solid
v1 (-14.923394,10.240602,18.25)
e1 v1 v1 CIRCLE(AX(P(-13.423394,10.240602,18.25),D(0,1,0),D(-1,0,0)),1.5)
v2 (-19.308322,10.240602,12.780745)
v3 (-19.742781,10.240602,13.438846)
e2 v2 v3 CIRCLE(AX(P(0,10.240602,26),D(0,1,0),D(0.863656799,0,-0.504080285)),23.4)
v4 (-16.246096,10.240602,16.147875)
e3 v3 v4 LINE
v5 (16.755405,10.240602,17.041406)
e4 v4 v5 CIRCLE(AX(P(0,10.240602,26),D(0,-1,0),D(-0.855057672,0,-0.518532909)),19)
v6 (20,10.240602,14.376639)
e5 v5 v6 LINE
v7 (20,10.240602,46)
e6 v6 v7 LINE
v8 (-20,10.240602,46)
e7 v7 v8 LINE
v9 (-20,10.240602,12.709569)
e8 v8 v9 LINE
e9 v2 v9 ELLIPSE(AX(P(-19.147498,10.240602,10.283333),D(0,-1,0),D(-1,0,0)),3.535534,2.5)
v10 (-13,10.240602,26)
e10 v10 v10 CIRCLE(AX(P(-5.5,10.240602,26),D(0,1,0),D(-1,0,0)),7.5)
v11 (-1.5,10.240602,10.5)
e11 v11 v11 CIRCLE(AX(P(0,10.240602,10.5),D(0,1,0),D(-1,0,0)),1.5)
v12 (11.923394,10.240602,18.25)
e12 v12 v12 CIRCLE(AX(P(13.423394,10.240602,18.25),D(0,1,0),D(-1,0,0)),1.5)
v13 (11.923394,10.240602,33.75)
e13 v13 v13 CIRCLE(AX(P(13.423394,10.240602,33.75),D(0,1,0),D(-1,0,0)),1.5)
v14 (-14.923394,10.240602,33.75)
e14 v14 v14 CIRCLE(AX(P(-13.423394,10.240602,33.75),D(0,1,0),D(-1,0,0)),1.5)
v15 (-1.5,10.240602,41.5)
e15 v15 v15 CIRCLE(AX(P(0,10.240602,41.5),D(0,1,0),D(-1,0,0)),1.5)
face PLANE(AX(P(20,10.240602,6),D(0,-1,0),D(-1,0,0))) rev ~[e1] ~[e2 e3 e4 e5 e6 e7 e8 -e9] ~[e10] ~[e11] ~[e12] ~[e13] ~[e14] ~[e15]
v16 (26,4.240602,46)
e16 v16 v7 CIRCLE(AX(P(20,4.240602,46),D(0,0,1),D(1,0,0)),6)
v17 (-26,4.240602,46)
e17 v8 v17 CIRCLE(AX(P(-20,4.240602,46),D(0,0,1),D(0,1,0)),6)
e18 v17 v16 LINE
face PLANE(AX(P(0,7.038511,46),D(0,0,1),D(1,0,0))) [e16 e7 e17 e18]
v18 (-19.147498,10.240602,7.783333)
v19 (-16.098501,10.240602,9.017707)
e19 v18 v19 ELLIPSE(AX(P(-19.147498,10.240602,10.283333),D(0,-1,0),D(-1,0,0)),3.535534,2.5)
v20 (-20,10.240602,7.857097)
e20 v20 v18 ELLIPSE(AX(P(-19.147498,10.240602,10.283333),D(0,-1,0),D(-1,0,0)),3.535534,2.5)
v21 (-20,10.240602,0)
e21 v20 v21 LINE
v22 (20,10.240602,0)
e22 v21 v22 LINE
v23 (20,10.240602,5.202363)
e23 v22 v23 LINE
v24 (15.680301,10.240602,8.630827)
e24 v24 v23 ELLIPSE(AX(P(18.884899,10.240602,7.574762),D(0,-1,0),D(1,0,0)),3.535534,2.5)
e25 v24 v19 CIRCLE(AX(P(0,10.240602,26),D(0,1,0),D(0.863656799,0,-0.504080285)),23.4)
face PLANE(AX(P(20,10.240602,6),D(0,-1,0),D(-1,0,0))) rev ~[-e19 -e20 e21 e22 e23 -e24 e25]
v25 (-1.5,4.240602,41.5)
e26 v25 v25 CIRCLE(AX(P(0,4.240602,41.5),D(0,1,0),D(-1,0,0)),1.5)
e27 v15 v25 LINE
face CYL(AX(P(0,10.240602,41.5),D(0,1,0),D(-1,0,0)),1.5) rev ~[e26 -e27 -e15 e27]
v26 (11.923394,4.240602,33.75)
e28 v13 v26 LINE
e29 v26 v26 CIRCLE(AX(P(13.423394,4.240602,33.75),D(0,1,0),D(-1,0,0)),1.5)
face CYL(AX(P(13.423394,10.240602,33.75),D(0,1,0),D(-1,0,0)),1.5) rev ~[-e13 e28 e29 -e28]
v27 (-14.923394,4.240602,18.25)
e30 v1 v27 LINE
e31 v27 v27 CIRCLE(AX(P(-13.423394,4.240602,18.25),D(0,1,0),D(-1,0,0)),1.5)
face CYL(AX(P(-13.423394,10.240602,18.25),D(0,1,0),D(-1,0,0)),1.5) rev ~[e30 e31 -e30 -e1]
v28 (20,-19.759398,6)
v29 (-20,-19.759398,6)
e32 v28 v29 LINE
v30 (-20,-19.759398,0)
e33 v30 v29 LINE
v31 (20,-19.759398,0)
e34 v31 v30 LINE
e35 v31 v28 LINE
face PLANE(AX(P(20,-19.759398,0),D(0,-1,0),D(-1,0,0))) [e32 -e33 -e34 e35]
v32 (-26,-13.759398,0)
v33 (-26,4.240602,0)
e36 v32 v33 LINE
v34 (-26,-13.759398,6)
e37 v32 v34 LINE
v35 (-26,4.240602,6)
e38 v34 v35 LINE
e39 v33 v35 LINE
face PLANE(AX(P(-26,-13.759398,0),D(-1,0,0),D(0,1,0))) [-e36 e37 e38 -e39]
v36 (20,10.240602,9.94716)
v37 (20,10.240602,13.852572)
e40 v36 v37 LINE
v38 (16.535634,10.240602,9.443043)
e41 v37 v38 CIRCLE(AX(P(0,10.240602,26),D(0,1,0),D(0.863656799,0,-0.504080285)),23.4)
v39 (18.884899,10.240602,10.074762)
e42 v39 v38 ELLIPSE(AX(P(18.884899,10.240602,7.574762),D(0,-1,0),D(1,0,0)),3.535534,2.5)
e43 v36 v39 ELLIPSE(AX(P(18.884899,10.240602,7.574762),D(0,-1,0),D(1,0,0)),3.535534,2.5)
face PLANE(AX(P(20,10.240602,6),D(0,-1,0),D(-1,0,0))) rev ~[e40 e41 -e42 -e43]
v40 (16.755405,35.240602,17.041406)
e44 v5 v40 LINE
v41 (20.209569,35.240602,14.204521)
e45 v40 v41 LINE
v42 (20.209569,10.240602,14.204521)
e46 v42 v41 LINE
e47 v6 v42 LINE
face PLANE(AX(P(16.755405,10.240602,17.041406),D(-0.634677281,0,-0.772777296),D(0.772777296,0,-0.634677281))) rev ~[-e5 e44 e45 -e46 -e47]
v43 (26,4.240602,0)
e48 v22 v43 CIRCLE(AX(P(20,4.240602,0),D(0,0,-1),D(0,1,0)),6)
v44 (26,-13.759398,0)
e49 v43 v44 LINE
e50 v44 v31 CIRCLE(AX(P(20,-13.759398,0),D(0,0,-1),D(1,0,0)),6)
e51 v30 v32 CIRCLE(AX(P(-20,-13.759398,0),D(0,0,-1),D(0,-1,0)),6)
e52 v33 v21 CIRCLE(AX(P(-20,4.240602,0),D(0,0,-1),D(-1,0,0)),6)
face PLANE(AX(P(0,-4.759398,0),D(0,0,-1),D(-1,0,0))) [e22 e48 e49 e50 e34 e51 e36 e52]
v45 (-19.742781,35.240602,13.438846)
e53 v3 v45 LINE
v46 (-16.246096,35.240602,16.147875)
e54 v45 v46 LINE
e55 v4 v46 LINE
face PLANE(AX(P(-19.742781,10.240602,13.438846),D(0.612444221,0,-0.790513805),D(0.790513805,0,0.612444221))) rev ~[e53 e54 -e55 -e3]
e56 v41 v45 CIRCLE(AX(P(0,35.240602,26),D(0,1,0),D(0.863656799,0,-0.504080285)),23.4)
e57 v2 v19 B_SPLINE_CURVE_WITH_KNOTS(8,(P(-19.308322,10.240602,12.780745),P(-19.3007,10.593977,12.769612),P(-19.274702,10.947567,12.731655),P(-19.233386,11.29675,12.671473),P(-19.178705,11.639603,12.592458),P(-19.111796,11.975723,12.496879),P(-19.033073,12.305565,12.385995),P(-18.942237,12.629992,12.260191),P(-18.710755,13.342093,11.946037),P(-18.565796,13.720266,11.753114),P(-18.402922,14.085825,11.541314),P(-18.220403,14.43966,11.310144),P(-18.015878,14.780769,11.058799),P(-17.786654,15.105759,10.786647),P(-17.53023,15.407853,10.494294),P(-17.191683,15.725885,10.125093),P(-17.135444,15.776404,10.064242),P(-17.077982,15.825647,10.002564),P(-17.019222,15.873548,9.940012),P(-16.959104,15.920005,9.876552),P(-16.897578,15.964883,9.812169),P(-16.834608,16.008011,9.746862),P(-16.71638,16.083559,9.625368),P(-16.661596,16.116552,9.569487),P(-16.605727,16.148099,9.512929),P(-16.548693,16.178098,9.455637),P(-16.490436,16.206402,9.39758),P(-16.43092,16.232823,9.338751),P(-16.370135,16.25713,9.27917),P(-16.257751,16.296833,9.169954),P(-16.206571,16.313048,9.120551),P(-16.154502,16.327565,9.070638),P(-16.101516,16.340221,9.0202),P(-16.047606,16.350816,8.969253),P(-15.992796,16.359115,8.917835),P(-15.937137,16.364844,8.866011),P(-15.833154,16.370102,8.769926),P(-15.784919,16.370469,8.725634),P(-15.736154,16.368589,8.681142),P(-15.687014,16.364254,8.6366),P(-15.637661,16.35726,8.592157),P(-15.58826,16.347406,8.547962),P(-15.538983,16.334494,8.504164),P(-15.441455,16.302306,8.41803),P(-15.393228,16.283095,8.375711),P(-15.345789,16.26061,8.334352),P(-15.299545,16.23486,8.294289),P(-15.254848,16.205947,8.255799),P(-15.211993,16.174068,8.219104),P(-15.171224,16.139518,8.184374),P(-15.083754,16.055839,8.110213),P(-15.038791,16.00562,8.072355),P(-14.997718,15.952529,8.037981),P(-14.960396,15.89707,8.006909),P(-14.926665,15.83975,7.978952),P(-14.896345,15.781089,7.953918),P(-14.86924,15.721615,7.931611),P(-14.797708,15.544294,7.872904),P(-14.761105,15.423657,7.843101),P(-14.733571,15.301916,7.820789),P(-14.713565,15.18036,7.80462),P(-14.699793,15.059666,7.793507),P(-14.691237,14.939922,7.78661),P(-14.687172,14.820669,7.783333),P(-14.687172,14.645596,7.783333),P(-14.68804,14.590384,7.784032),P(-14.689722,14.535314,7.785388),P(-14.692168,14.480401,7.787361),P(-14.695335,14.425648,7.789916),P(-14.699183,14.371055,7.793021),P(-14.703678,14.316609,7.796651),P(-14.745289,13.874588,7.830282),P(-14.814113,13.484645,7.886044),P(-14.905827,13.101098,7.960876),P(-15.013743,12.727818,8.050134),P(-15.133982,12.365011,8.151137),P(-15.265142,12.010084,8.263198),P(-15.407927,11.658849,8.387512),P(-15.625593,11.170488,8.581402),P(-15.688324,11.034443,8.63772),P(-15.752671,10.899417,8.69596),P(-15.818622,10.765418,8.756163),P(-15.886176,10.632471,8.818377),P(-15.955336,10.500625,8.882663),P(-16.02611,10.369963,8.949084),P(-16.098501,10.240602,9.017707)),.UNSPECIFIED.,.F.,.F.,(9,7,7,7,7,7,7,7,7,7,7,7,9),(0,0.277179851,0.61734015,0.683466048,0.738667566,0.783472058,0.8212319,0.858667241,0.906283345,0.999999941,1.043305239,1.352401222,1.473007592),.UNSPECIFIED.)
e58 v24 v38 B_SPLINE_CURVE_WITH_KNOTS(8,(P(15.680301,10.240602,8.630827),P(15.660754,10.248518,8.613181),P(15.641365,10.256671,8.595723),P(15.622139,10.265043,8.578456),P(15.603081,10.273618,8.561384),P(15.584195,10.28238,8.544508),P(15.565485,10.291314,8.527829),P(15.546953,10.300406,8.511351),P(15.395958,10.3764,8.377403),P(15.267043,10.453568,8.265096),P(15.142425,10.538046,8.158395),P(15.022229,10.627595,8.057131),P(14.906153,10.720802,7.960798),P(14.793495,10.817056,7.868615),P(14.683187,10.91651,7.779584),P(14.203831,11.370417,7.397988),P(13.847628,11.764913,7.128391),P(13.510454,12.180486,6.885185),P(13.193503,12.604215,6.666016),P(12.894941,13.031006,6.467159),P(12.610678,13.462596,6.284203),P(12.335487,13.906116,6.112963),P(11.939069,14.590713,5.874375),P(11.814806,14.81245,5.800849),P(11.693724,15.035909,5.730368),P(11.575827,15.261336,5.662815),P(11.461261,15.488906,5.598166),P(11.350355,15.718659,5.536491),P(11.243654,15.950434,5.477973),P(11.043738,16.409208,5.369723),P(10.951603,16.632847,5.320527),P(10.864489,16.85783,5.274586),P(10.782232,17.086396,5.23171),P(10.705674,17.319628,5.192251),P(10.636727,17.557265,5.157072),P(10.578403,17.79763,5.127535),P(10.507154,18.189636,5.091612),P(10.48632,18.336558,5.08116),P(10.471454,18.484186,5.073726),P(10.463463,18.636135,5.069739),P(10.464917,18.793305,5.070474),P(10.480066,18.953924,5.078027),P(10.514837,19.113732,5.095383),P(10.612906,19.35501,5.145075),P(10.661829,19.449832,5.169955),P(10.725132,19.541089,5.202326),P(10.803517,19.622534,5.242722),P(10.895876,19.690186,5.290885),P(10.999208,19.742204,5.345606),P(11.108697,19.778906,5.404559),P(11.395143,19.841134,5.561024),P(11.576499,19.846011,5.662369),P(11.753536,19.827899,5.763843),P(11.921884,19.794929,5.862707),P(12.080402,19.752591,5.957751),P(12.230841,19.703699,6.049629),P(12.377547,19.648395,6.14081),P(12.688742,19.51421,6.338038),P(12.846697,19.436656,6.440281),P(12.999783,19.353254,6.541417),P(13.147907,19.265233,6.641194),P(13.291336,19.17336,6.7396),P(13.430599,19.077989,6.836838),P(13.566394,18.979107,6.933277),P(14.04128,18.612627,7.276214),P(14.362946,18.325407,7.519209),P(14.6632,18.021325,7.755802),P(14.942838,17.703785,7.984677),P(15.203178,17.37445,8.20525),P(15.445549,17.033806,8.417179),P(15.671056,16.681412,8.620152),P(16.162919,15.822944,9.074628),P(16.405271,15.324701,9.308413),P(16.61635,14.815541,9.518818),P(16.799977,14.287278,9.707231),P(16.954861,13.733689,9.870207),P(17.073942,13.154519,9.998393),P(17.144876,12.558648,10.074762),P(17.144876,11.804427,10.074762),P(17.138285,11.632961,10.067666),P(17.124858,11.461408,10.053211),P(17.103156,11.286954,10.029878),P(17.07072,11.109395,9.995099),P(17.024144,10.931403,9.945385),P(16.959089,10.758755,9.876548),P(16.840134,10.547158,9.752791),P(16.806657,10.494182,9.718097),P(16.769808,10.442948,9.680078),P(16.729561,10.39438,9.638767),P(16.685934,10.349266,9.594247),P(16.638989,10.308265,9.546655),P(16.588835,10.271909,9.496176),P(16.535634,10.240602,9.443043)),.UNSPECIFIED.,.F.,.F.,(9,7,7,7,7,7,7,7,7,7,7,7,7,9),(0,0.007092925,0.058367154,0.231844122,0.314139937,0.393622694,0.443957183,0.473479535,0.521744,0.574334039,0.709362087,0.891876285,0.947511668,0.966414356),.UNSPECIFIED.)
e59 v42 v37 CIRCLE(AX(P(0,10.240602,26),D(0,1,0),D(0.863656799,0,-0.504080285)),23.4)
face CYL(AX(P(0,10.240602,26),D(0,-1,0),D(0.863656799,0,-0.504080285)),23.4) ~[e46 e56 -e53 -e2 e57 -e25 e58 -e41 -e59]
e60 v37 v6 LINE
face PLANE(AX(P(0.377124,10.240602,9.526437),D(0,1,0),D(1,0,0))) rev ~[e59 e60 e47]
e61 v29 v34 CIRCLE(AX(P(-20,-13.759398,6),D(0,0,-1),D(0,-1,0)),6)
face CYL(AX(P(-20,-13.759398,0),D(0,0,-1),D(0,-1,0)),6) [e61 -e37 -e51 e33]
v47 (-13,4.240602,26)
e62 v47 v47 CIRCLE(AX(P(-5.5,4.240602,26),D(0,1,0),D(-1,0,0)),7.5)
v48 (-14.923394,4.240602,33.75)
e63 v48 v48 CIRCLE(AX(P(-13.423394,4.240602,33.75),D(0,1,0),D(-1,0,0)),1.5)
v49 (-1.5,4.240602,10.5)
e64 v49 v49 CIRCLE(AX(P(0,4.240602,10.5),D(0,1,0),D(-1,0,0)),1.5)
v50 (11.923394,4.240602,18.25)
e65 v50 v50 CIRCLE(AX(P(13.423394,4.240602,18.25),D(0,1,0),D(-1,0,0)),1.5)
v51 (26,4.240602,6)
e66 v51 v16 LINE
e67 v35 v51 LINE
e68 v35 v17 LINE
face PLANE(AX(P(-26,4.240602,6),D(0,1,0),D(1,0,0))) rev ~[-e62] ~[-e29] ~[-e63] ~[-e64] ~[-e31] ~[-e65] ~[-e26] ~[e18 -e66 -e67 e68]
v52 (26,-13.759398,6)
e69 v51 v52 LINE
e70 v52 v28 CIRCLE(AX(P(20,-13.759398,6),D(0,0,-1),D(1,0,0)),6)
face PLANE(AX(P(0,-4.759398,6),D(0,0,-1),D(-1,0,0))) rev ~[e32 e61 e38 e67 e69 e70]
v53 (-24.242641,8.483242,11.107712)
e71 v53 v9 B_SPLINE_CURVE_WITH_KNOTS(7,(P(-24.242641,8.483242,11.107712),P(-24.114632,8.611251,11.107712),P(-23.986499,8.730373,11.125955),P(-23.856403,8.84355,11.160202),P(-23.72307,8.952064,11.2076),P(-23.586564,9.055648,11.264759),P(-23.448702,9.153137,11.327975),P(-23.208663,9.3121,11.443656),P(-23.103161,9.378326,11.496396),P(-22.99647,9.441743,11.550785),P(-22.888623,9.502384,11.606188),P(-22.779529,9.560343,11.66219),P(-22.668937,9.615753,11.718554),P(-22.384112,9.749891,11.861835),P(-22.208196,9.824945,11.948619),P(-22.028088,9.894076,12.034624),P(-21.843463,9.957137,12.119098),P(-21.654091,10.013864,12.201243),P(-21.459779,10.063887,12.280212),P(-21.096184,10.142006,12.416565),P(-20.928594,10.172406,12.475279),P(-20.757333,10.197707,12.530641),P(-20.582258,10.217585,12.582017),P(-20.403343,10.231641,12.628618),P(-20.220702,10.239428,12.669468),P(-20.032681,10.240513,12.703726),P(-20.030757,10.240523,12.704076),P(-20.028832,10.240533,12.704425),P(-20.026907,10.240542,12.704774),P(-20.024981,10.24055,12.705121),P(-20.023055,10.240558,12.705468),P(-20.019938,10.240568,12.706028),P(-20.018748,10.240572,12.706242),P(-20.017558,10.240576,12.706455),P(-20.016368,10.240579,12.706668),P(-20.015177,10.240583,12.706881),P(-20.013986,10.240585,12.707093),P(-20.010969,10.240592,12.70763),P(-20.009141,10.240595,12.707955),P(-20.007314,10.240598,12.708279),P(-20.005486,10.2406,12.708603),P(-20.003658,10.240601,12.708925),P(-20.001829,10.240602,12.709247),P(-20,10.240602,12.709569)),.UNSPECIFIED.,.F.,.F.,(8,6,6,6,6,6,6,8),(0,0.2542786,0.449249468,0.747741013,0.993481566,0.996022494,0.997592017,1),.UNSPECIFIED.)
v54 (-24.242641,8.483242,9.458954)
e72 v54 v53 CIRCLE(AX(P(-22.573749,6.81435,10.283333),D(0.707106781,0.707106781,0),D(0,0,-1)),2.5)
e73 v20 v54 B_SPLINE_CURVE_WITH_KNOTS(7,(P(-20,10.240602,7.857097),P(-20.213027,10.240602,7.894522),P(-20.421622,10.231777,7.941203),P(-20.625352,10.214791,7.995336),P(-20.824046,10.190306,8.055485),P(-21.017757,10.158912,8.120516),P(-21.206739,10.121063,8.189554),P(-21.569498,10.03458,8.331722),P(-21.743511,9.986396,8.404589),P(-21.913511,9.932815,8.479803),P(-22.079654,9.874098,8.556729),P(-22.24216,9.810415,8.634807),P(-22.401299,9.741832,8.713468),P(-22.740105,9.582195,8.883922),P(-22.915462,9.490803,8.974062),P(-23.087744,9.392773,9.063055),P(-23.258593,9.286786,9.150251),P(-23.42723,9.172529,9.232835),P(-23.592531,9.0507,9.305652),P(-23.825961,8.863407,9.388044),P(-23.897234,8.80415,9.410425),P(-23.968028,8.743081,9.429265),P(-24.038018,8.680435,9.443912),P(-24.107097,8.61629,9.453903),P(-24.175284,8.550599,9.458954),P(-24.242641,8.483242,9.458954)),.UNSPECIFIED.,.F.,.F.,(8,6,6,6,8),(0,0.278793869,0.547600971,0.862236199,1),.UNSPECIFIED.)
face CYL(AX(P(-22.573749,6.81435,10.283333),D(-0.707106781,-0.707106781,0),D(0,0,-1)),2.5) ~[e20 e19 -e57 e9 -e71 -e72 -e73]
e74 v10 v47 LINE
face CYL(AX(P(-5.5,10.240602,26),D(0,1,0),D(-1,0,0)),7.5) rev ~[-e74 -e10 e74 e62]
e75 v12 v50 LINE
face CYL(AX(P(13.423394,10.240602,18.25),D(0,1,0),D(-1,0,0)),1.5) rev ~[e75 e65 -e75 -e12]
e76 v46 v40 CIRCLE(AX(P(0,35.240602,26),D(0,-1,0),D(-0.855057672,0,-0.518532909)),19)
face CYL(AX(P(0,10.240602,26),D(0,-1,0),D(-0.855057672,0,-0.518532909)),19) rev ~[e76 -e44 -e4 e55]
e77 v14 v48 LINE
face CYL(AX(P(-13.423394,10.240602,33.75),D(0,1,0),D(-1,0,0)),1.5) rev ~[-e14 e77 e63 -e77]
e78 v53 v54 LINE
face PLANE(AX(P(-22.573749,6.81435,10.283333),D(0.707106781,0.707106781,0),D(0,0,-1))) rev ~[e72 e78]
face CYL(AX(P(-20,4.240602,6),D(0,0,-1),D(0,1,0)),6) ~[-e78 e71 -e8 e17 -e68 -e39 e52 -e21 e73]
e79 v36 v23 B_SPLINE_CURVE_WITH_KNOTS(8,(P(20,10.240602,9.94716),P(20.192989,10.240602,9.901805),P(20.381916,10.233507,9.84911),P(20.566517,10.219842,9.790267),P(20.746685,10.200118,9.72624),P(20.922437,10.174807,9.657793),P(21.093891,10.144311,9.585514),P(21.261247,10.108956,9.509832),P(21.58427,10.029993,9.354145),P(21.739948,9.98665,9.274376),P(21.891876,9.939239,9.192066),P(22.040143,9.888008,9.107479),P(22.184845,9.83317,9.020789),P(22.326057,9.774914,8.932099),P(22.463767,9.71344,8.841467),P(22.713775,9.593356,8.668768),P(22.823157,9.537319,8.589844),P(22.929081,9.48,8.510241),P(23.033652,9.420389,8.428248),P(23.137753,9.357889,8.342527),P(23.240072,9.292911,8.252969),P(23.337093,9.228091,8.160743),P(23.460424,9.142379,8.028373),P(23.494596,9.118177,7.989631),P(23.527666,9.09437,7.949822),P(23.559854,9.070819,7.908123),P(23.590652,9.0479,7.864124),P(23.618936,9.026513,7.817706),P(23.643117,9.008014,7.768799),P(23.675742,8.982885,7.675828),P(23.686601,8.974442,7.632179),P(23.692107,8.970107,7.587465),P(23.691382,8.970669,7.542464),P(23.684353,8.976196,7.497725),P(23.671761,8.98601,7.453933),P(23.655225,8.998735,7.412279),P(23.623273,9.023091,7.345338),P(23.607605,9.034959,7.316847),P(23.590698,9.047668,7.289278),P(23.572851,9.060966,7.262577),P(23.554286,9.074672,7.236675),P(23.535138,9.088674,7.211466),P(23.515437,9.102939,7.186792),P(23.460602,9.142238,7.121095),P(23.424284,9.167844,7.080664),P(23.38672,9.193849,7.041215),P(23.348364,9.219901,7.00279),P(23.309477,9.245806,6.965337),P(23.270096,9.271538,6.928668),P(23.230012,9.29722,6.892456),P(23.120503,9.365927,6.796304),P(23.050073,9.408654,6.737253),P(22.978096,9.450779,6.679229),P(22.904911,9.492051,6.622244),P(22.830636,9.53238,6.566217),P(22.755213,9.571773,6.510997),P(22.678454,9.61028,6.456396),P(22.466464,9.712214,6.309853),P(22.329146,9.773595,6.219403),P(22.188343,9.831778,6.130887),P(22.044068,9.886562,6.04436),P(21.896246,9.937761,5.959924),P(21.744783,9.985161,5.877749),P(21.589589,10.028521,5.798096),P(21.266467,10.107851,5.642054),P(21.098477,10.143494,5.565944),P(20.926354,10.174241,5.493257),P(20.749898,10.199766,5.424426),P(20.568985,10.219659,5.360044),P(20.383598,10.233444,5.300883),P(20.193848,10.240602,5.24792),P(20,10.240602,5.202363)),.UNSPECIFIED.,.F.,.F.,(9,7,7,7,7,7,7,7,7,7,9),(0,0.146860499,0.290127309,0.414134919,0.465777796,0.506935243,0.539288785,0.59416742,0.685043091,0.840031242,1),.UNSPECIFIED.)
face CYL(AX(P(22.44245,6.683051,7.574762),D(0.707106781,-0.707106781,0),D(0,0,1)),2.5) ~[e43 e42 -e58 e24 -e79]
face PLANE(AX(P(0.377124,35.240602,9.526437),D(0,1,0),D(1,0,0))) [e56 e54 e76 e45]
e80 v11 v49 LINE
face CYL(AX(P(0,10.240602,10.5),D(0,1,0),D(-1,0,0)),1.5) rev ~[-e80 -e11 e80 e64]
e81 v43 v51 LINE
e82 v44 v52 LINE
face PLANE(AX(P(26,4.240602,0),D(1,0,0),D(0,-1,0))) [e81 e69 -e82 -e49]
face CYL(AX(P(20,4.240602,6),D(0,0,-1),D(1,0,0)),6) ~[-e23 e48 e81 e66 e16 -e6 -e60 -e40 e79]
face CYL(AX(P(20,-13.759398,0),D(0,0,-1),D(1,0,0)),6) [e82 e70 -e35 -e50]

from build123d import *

# Parameters (mm, degrees)
BOSS_EXTRUDE1_DEPTH      = 6
BOSS_EXTRUDE2_DEPTH      = 40
CUT_EXTRUDE1_REACH       = 62.762
SKETCH9_R                = 1.5
CUT_EXTRUDE2_REACH       = 62.762
SKETCH10_R               = 7.5
BOSS_EXTRUDE4_DEPTH      = 25
BOSS_EXTRUDE5_REACH      = 73.576
BOSS_EXTRUDE5_END_RADIUS = 23.4
SKETCH12_R               = 2.5
BOSS_EXTRUDE6_REACH      = 73.576
SKETCH14_R               = 2.5


with BuildPart() as part:
    # Sketch3 → Boss-Extrude1 (new body)
    with BuildSketch(Plane.XY):
        with BuildLine():
            Line((-20, 10.240601504), (20, 10.240601504))
            ThreePointArc((20, 10.240601504), (24.242640687, 8.483242191), (26, 4.240601504))
            Line((26, 4.240601504), (26, -13.759398496))
            ThreePointArc((26, -13.759398496), (24.242640687, -18.002039183), (20, -19.759398496))
            Line((20, -19.759398496), (-20, -19.759398496))
            ThreePointArc((-20, -19.759398496), (-24.242640687, -18.002039183), (-26, -13.759398496))
            Line((-26, -13.759398496), (-26, 4.240601504))
            ThreePointArc((-26, 4.240601504), (-24.242640687, 8.483242191), (-20, 10.240601504))
        make_face()
    extrude(amount=BOSS_EXTRUDE1_DEPTH)

    # Sketch4 → Boss-Extrude2 (add)
    with BuildSketch(Plane.XY.offset(6)):
        with BuildLine():
            Line((-26, 4.240601504), (26, 4.240601504))
            ThreePointArc((26, 4.240601504), (24.242640687, 8.483242191), (20, 10.240601504))
            Line((20, 10.240601504), (-20, 10.240601504))
            ThreePointArc((-20, 10.240601504), (-24.242640687, 8.483242191), (-26, 4.240601504))
        make_face()
    extrude(amount=BOSS_EXTRUDE2_DEPTH)

    # Sketch9 → Cut-Extrude1 (cut, up to next)
    with BuildSketch(Plane(origin=(0, 10.240601504, 0), x_dir=(1, 0, 0), z_dir=(0, 1, 0)), mode=Mode.PRIVATE) as cut_extrude1_sk1:
        with Locations(Location((0, -41.5, 0), (0, 0, 180))):
            Circle(SKETCH9_R)
    cut_extrude1_tool1 = extrude(cut_extrude1_sk1.sketch, amount=-CUT_EXTRUDE1_REACH, mode=Mode.PRIVATE) & part.part
    # Sketch9 → Cut-Extrude1 (cut, up to next)
    with BuildSketch(Plane(origin=(0, 10.240601504, 0), x_dir=(1, 0, 0), z_dir=(0, 1, 0)), mode=Mode.PRIVATE) as cut_extrude1_sk2:
        with Locations(Location((13.423393759, -33.75, 0), (0, 0, 180))):
            Circle(SKETCH9_R)
    cut_extrude1_tool2 = extrude(cut_extrude1_sk2.sketch, amount=-CUT_EXTRUDE1_REACH, mode=Mode.PRIVATE) & part.part
    # Sketch9 → Cut-Extrude1 (cut, up to next)
    with BuildSketch(Plane(origin=(0, 10.240601504, 0), x_dir=(1, 0, 0), z_dir=(0, 1, 0)), mode=Mode.PRIVATE) as cut_extrude1_sk3:
        with Locations(Location((-13.423393759, -33.75, 0), (0, 0, 180))):
            Circle(SKETCH9_R)
    cut_extrude1_tool3 = extrude(cut_extrude1_sk3.sketch, amount=-CUT_EXTRUDE1_REACH, mode=Mode.PRIVATE) & part.part
    # Sketch9 → Cut-Extrude1 (cut, up to next)
    with BuildSketch(Plane(origin=(0, 10.240601504, 0), x_dir=(1, 0, 0), z_dir=(0, 1, 0)), mode=Mode.PRIVATE) as cut_extrude1_sk4:
        with Locations(Location((-13.423393759, -18.25, 0), (0, 0, 180))):
            Circle(SKETCH9_R)
    cut_extrude1_tool4 = extrude(cut_extrude1_sk4.sketch, amount=-CUT_EXTRUDE1_REACH, mode=Mode.PRIVATE) & part.part
    # Sketch9 → Cut-Extrude1 (cut, up to next)
    with BuildSketch(Plane(origin=(0, 10.240601504, 0), x_dir=(1, 0, 0), z_dir=(0, 1, 0)), mode=Mode.PRIVATE) as cut_extrude1_sk5:
        with Locations(Location((0, -10.5, 0), (0, 0, 180))):
            Circle(SKETCH9_R)
    cut_extrude1_tool5 = extrude(cut_extrude1_sk5.sketch, amount=-CUT_EXTRUDE1_REACH, mode=Mode.PRIVATE) & part.part
    # Sketch9 → Cut-Extrude1 (cut, up to next)
    with BuildSketch(Plane(origin=(0, 10.240601504, 0), x_dir=(1, 0, 0), z_dir=(0, 1, 0)), mode=Mode.PRIVATE) as cut_extrude1_sk6:
        with Locations(Location((13.423393759, -18.25, 0), (0, 0, 180))):
            Circle(SKETCH9_R)
    cut_extrude1_tool6 = extrude(cut_extrude1_sk6.sketch, amount=-CUT_EXTRUDE1_REACH, mode=Mode.PRIVATE) & part.part
    add(cut_extrude1_tool1.solids().sort_by_distance((0, 10.240602, 41.5))[0], mode=Mode.SUBTRACT)
    add(cut_extrude1_tool2.solids().sort_by_distance((13.423394, 10.240602, 33.75))[0], mode=Mode.SUBTRACT)
    add(cut_extrude1_tool3.solids().sort_by_distance((-13.423394, 10.240602, 33.75))[0], mode=Mode.SUBTRACT)
    add(cut_extrude1_tool4.solids().sort_by_distance((-13.423394, 10.240602, 18.25))[0], mode=Mode.SUBTRACT)
    add(cut_extrude1_tool5.solids().sort_by_distance((0, 10.240602, 10.5))[0], mode=Mode.SUBTRACT)
    add(cut_extrude1_tool6.solids().sort_by_distance((13.423394, 10.240602, 18.25))[0], mode=Mode.SUBTRACT)

    # Sketch10 → Cut-Extrude2 (cut, up to next)
    with BuildSketch(Plane(origin=(0, 10.240601504, 0), x_dir=(1, 0, 0), z_dir=(0, 1, 0)), mode=Mode.PRIVATE) as cut_extrude2_sk1:
        with Locations(Location((-5.5, -26, 0), (0, 0, 180))):
            Circle(SKETCH10_R)
    cut_extrude2_tool1 = extrude(cut_extrude2_sk1.sketch, amount=-CUT_EXTRUDE2_REACH, mode=Mode.PRIVATE) & part.part
    add(cut_extrude2_tool1.solids().sort_by_distance((-5.5, 10.240602, 26))[0], mode=Mode.SUBTRACT)

    # Sketch11 → Boss-Extrude4 (add)
    with BuildSketch(Plane(origin=(0, 10.240601504, 0), x_dir=(1, 0, 0), z_dir=(0, 1, 0))):
        with BuildLine():
            Line((16.755404651, -17.041405524), (20.209569094, -14.204521331))
            ThreePointArc((20.209569094, -14.204521331), (0.448372053, -2.604296067), (-19.742781111, -13.438845833))
            Line((-19.742781111, -13.438845833), (-16.246095761, -16.147874721))
            ThreePointArc((-16.246095761, -16.147874721), (0.514245282, -7.006960438), (16.755404651, -17.041405524))
        make_face()
    extrude(amount=BOSS_EXTRUDE4_DEPTH)

    # Boss-Extrude5: up to this cylinder (the profile starts outside it)
    boss_extrude5_end = Plane(origin=(0, 6.683051, 26), z_dir=(0, -1, 0)) * Cylinder(BOSS_EXTRUDE5_END_RADIUS, 194.952, mode=Mode.PRIVATE)
    # Sketch12 → Boss-Extrude5 (add, up to the surface)
    with BuildSketch(Plane(origin=(7.879699248, -7.879699248, 0), x_dir=(0, 0, 1), z_dir=(-0.7071067811865489, 0.7071067811865462, 0)), mode=Mode.PRIVATE) as boss_extrude5_sk1:
        with Locations((7.574761701, 20.594839086)):
            Circle(SKETCH12_R)
    boss_extrude5_tool1 = extrude(boss_extrude5_sk1.sketch, amount=BOSS_EXTRUDE5_REACH, mode=Mode.PRIVATE) - boss_extrude5_end
    add(boss_extrude5_tool1.solids().sort_by_distance((22.44245, 6.683051, 7.574762))[0])

    # Sketch14 → Boss-Extrude6 (add, up to next)
    with BuildSketch(Plane(origin=(-7.879699248, -7.879699248, 0), x_dir=(0, 0, -1), z_dir=(0.7071067811865487, 0.7071067811865465, 0)), mode=Mode.PRIVATE) as boss_extrude6_sk1:
        with Locations((-10.283332747, 20.780524406)):
            Circle(SKETCH14_R)
    boss_extrude6_tool1 = extrude(boss_extrude6_sk1.sketch, amount=BOSS_EXTRUDE6_REACH, mode=Mode.PRIVATE) - part.part
    add(boss_extrude6_tool1.solids().sort_by_distance((-22.573749, 6.81435, 10.283333))[0])


solid = part.part
